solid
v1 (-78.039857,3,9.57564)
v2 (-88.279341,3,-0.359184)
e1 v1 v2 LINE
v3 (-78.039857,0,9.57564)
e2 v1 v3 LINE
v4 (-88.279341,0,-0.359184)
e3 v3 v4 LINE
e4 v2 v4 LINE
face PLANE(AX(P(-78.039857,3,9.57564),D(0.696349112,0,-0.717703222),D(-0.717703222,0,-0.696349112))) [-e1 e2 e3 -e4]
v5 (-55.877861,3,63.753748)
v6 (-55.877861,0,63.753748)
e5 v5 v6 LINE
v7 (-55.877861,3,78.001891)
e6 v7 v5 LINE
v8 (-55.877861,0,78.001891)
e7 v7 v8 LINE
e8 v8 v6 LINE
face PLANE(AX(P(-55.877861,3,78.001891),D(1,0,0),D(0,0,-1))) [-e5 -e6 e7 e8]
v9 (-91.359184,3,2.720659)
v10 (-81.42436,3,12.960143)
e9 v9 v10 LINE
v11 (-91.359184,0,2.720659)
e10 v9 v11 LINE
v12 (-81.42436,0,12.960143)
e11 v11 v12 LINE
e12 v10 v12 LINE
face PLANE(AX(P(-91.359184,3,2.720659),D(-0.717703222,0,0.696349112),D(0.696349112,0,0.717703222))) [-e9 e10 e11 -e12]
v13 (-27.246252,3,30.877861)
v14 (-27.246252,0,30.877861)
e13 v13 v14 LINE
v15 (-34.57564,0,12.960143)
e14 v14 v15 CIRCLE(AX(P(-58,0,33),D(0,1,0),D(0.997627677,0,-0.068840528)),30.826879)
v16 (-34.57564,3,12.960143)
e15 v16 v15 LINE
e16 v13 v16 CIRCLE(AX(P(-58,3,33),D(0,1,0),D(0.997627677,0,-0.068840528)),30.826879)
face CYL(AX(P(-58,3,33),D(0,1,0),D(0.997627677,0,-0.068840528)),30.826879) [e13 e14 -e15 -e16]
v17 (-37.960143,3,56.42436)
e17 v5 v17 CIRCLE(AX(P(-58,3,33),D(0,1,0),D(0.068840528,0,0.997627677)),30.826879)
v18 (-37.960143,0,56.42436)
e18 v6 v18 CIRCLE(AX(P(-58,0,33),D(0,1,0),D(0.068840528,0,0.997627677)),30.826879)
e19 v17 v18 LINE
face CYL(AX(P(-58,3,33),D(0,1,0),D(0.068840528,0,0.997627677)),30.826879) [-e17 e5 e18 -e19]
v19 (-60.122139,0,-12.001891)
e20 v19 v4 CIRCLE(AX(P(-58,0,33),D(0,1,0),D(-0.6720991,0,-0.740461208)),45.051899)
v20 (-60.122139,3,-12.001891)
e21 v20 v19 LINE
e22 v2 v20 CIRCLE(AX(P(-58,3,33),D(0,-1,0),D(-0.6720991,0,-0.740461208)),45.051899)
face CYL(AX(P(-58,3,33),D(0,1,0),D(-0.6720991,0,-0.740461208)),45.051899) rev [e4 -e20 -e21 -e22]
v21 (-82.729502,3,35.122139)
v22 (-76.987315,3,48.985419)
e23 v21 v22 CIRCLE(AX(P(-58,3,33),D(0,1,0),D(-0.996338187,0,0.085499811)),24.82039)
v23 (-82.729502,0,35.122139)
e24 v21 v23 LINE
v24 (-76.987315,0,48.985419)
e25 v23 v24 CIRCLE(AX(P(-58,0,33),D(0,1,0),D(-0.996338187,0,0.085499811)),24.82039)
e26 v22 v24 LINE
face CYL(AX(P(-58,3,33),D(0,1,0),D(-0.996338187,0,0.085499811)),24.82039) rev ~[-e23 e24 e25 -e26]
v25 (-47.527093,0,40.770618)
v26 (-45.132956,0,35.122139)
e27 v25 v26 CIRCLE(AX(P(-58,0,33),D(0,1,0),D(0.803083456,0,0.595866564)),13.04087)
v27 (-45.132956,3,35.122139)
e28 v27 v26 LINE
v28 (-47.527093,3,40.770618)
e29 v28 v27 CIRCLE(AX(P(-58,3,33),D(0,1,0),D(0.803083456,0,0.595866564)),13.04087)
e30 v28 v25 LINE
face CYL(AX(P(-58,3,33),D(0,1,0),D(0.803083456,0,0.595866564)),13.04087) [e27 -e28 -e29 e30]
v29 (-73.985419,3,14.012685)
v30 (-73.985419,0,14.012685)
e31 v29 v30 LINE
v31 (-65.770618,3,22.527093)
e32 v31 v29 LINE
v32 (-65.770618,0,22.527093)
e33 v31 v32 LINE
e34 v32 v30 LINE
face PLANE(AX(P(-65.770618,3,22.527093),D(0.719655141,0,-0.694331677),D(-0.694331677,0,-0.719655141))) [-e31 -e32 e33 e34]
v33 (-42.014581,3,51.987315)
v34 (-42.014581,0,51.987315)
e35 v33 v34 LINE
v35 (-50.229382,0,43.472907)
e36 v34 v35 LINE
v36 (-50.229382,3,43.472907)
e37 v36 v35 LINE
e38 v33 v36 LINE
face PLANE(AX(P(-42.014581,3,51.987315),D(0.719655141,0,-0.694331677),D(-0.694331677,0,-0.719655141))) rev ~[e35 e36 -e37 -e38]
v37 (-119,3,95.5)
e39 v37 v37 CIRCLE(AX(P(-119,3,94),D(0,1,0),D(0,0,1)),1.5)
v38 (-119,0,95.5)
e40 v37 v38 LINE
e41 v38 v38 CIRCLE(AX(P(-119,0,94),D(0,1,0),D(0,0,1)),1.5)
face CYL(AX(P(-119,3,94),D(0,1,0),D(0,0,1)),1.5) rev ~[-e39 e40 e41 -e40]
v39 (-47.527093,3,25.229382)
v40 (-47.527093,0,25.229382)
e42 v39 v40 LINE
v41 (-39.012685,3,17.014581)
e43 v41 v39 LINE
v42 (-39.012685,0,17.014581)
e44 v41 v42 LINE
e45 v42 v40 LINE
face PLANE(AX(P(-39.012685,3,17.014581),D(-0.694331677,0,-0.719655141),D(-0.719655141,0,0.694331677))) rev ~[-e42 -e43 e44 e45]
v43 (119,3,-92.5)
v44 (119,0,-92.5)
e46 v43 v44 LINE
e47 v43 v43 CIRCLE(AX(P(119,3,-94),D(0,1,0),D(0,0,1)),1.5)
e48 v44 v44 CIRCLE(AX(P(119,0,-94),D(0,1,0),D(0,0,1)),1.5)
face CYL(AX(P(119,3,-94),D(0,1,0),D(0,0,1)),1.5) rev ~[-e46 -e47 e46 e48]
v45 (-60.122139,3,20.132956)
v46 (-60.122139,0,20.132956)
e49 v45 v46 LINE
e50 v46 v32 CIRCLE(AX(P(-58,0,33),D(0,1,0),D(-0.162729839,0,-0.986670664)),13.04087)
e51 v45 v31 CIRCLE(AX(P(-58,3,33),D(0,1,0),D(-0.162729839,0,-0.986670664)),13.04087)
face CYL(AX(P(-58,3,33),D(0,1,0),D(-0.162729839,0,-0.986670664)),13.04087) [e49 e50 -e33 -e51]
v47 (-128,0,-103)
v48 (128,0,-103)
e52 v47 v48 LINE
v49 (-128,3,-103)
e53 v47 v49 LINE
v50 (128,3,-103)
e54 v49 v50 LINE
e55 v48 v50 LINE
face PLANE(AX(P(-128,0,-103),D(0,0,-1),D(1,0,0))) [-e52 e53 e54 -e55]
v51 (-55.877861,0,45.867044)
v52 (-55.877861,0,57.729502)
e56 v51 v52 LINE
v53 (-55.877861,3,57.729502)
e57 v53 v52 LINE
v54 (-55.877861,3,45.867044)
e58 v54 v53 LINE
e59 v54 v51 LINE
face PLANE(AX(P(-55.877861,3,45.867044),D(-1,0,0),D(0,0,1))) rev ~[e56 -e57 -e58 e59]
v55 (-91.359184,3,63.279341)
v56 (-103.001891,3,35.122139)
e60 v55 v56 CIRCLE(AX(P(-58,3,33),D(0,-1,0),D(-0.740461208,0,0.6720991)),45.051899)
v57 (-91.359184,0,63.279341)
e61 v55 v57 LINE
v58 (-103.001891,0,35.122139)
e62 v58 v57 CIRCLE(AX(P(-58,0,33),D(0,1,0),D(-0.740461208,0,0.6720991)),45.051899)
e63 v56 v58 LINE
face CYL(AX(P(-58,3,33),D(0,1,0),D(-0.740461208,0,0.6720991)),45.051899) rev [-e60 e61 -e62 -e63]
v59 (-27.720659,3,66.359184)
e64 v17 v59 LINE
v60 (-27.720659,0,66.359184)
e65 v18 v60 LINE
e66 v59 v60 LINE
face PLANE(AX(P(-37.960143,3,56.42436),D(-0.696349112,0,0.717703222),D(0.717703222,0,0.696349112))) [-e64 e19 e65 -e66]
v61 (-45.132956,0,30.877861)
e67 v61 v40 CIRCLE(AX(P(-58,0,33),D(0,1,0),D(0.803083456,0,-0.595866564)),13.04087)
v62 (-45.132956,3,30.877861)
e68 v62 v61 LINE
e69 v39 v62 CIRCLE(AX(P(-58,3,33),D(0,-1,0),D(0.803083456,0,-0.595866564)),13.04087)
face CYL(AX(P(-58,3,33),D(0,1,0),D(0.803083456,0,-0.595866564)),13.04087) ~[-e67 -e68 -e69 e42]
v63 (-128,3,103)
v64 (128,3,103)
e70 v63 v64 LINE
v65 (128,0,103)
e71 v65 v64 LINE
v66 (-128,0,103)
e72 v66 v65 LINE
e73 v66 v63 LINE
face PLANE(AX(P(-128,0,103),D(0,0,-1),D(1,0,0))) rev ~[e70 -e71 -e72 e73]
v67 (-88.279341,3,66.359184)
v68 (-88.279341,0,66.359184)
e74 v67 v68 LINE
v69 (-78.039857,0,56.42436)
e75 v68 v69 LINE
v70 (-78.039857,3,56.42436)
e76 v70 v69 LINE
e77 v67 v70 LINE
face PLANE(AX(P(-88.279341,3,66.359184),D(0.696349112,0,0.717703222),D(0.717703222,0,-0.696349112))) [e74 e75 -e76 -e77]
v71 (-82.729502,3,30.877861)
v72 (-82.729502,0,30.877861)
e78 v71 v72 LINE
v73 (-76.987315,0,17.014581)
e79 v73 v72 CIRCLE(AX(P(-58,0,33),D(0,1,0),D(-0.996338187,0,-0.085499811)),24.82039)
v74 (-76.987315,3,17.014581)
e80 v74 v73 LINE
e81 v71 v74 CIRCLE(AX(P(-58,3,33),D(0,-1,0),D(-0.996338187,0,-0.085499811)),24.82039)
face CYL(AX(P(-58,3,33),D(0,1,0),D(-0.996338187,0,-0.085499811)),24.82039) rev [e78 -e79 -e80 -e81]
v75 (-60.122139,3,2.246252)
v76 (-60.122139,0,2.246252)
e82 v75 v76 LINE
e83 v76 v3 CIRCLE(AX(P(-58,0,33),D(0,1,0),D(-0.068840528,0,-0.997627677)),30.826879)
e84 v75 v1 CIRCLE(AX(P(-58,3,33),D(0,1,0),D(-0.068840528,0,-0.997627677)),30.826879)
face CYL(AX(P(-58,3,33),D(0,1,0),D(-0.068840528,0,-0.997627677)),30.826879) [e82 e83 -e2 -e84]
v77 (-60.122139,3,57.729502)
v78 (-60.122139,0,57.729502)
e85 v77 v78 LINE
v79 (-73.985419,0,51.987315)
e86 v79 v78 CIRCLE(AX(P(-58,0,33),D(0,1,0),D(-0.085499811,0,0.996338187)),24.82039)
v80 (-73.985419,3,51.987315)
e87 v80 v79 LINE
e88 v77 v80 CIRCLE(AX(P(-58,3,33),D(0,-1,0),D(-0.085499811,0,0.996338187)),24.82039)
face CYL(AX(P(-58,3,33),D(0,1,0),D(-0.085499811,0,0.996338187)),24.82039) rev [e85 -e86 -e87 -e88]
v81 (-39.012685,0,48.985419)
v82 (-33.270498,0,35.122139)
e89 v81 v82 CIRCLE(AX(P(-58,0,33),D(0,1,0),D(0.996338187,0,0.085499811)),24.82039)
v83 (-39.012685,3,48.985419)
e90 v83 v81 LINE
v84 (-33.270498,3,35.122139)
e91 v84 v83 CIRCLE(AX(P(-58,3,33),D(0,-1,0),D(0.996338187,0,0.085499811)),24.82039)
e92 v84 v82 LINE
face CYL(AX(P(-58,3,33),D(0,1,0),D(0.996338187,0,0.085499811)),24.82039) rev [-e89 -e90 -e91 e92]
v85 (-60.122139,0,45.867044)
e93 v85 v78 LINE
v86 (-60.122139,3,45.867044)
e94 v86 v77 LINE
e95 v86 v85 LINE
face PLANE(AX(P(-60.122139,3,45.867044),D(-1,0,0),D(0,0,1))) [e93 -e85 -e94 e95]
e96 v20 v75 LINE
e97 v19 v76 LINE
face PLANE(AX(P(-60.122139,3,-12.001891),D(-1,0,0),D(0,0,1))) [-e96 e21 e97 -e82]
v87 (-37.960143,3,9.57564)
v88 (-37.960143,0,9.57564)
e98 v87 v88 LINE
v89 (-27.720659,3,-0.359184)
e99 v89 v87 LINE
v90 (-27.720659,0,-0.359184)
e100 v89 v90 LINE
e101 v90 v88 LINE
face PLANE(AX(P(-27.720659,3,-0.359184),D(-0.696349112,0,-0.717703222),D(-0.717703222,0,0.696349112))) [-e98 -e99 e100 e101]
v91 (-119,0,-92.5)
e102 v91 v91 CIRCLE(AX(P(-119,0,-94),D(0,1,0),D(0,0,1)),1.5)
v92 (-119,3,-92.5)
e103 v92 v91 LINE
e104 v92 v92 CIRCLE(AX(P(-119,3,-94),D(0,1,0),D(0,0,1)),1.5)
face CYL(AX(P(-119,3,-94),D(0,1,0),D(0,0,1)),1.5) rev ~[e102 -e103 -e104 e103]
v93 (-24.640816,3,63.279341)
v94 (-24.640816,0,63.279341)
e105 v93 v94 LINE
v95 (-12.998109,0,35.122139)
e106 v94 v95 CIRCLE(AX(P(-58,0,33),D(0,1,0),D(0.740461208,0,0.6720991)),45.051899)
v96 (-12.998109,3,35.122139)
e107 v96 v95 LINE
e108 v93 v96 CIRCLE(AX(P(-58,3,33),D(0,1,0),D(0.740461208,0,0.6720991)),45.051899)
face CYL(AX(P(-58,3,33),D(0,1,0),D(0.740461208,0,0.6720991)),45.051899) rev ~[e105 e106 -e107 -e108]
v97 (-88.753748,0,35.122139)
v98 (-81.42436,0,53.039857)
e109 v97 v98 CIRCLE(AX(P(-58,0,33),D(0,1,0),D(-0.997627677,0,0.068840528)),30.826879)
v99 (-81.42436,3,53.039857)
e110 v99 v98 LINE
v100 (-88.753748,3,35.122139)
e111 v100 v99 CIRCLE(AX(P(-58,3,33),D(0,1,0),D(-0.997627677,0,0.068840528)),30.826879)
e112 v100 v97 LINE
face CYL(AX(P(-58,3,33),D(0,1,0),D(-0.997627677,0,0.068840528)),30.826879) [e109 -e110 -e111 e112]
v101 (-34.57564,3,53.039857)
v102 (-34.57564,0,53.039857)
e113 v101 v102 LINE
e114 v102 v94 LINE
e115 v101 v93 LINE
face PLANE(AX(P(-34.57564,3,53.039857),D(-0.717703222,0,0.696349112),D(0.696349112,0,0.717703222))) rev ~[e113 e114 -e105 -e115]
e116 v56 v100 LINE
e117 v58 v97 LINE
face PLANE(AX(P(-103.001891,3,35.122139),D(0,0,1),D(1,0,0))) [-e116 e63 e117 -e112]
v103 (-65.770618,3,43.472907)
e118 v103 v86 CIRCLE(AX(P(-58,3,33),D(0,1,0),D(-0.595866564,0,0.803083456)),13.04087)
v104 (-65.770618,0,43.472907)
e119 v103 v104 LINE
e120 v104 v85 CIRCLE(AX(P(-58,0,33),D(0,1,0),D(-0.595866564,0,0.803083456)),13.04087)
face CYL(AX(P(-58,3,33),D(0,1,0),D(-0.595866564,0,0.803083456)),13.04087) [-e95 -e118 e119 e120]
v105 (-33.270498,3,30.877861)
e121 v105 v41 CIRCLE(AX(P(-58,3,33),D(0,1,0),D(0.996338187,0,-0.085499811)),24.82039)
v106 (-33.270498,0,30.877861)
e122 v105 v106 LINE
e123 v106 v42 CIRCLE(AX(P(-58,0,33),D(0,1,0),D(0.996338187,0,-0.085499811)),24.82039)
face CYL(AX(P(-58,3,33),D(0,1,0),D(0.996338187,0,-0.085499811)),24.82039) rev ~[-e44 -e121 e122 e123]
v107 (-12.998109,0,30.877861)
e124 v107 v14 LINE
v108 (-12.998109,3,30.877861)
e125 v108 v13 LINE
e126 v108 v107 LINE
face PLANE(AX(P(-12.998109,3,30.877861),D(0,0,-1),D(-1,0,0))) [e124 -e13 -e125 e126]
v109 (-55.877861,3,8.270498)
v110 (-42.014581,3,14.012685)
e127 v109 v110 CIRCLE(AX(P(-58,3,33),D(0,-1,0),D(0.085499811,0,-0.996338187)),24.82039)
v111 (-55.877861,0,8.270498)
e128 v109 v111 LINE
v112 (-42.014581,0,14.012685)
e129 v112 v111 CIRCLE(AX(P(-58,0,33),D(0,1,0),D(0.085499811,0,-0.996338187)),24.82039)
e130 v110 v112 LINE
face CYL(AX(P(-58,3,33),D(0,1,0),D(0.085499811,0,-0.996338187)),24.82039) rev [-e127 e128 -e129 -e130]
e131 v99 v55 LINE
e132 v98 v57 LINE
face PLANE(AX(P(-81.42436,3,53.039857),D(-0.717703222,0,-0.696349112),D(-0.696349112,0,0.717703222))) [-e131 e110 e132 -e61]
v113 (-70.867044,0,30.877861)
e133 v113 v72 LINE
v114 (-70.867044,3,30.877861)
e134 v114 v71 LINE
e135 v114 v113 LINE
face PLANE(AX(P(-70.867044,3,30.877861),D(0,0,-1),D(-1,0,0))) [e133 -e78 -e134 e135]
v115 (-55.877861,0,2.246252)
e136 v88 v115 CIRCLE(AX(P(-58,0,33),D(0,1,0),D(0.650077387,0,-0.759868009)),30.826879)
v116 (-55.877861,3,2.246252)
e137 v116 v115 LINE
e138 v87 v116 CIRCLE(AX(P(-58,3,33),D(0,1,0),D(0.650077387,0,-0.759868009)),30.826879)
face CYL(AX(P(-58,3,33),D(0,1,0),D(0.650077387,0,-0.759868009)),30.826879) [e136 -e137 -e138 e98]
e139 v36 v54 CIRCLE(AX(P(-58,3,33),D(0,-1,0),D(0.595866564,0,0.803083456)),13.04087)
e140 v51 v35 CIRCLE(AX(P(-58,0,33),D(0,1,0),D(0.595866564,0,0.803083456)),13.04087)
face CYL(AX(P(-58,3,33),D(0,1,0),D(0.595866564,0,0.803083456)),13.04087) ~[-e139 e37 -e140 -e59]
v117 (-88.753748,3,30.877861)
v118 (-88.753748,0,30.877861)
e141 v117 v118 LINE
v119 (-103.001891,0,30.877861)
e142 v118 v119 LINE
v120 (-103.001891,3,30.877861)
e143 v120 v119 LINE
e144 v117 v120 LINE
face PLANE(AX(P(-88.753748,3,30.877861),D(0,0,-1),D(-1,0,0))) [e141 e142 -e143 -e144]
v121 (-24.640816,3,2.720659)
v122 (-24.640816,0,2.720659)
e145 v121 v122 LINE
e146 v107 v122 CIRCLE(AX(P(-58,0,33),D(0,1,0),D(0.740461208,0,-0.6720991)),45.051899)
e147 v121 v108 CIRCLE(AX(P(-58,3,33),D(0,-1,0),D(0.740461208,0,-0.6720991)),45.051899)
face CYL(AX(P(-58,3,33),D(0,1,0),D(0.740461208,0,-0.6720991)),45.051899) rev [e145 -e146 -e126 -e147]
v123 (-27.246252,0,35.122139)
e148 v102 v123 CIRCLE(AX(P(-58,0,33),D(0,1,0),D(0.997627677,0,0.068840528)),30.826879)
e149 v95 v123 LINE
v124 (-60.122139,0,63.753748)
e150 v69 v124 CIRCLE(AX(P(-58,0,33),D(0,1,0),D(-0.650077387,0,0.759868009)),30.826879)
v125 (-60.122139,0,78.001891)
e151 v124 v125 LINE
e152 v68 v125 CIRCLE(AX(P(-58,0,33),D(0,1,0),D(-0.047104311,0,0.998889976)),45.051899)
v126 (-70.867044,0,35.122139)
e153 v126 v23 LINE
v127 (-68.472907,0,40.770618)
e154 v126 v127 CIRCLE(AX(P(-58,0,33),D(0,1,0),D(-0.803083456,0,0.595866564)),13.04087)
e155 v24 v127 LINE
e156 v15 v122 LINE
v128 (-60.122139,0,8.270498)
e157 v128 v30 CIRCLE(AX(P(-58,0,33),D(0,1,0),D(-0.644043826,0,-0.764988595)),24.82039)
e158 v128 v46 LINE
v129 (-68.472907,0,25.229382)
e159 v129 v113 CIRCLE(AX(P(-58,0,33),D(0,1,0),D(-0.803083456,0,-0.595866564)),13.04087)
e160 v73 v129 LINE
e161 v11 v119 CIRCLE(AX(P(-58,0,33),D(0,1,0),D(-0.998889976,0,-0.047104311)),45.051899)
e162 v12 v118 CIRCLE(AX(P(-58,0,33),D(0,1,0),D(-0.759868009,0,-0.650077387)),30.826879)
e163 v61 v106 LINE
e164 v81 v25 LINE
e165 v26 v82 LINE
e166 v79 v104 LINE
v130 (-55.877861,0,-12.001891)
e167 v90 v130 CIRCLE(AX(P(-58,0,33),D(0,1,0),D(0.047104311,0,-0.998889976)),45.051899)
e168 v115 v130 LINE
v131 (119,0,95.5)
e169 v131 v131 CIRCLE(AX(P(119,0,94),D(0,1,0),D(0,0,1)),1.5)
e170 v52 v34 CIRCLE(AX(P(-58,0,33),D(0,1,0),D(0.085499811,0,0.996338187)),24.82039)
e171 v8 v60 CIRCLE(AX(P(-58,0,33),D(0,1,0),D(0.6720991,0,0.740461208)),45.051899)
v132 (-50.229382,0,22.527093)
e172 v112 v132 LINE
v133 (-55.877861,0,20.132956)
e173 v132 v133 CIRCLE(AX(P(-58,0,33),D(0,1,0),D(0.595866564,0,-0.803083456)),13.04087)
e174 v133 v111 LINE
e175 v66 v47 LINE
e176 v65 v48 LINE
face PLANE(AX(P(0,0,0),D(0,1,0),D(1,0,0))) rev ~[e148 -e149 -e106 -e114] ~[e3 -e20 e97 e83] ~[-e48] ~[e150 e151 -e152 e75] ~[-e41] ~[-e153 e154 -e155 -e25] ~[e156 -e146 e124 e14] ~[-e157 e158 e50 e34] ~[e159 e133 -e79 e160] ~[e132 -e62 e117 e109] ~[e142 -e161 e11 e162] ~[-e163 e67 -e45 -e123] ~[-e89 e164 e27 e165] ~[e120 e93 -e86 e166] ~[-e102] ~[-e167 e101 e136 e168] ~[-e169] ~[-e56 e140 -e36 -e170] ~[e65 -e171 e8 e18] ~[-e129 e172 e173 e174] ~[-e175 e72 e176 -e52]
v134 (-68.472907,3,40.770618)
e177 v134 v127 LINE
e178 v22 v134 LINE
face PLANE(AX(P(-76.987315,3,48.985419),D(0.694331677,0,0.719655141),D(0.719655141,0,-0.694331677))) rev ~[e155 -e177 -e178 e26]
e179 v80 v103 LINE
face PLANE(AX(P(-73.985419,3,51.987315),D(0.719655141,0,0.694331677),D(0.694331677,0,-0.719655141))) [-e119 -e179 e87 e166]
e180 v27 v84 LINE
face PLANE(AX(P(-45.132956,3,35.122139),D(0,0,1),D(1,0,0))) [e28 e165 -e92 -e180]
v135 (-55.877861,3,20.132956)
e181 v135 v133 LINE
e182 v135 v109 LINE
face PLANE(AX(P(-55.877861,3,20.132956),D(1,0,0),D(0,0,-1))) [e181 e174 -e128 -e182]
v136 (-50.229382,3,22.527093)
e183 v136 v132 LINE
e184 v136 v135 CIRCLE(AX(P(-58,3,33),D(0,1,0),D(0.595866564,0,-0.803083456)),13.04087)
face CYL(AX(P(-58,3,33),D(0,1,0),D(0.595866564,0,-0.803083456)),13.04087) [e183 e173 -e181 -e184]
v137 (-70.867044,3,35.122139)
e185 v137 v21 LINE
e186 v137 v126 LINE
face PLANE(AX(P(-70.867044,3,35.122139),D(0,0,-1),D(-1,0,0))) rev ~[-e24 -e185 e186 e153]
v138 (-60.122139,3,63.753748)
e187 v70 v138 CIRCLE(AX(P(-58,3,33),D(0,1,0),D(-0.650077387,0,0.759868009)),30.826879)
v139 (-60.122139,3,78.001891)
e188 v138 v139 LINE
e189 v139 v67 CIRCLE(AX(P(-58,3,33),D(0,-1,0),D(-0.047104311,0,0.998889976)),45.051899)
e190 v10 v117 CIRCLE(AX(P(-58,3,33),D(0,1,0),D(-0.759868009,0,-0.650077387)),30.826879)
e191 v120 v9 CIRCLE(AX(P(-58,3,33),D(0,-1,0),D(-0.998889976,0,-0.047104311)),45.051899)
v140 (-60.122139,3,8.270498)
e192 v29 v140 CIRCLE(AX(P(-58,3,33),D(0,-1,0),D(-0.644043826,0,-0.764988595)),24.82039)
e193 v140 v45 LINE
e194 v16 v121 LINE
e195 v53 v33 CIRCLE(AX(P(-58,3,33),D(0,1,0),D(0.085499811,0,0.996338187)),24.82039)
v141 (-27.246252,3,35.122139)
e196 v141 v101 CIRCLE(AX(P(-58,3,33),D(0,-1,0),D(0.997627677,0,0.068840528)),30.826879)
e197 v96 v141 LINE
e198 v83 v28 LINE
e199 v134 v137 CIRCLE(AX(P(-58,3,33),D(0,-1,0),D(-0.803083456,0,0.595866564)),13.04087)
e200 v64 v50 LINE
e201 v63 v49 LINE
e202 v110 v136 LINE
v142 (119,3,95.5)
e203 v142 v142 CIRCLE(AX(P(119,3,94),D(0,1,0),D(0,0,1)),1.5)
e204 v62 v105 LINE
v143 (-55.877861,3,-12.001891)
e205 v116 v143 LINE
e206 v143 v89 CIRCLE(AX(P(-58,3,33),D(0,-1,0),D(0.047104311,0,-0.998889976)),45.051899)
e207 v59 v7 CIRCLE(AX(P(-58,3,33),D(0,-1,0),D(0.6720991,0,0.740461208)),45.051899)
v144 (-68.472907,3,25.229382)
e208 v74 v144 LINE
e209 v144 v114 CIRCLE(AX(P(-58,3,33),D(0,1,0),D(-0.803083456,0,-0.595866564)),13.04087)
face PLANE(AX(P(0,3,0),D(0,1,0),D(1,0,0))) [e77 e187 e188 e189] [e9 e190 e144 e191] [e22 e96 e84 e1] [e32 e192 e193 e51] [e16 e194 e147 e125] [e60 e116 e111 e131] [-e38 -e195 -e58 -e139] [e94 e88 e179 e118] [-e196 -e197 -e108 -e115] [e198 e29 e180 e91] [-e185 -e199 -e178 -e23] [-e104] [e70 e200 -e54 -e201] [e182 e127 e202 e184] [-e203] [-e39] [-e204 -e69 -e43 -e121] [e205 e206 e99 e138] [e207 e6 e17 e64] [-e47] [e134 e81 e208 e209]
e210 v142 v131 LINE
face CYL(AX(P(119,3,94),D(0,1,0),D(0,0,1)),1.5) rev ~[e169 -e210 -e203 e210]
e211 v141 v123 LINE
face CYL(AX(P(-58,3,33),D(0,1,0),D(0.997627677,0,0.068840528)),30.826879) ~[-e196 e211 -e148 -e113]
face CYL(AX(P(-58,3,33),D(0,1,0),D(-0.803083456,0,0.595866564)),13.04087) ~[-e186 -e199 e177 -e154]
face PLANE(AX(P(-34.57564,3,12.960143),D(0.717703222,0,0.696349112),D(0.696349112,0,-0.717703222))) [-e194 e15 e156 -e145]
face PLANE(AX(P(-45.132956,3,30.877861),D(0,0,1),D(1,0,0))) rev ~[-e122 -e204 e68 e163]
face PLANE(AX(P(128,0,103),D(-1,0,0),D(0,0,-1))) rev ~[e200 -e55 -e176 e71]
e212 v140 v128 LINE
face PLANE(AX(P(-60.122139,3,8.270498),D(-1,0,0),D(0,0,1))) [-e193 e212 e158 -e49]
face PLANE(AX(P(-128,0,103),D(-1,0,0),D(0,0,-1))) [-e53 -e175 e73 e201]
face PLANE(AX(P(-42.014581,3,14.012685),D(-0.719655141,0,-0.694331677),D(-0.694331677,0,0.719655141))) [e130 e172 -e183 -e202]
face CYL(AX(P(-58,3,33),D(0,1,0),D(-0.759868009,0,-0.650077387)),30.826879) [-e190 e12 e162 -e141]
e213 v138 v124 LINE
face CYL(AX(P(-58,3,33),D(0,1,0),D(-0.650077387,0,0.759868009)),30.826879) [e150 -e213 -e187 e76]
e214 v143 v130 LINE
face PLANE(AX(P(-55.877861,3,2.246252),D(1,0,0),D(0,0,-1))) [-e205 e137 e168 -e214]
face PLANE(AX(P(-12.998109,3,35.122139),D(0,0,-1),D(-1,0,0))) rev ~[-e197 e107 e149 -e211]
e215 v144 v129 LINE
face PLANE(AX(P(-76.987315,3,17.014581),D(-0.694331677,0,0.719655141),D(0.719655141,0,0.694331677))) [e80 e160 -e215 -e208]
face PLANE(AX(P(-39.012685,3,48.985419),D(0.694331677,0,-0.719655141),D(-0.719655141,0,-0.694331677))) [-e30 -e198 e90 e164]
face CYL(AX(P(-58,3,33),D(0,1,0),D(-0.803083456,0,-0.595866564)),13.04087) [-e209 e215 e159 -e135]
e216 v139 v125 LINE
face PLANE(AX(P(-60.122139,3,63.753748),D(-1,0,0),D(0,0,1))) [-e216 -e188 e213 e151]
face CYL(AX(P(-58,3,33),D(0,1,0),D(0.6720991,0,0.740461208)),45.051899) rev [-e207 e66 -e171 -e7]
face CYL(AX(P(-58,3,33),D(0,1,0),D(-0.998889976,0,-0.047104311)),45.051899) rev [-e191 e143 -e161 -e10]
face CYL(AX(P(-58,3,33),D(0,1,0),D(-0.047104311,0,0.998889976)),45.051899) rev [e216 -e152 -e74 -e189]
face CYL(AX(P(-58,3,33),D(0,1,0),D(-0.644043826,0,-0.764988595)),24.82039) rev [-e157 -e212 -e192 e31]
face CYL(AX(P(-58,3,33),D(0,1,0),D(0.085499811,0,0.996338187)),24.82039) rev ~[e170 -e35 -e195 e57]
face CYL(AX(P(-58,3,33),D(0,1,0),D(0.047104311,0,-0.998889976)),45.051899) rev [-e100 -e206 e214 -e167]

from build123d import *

# Parameters (mm, degrees)
SKETCH1_W           = 256
SKETCH1_H           = 206
BOSS_EXTRUDE1_DEPTH = 3
SKETCH2_R           = 1.5
CUT_EXTRUDE3_DEPTH  = 4
CUT_EXTRUDE6_DEPTH  = 4


with BuildPart() as part:
    # Sketch1 → Boss-Extrude1 (new body)
    with BuildSketch(Plane(origin=(0, 0, 0), x_dir=(1, 0, 0), z_dir=(0, 1, 0))):
        Rectangle(SKETCH1_W, SKETCH1_H)
    extrude(amount=BOSS_EXTRUDE1_DEPTH)

    # Sketch2 → Cut-Extrude3 (cut)
    with BuildSketch(Plane(origin=(0, 3, 0), x_dir=(1, 0, 0), z_dir=(0, 1, 0))):
        with Locations(Location((-119, 94, 0), (0, 0, 270))):
            Circle(SKETCH2_R)
        with Locations(Location((119, 94, 0), (0, 0, 270))):
            Circle(SKETCH2_R)
        with Locations(Location((119, -94, 0), (0, 0, 270))):
            Circle(SKETCH2_R)
        with Locations(Location((-119, -94, 0), (0, 0, 270))):
            Circle(SKETCH2_R)
    extrude(amount=-CUT_EXTRUDE3_DEPTH, mode=Mode.SUBTRACT)

    # Sketch5 → Cut-Extrude6 (cut)
    with BuildSketch(Plane(origin=(0, 3, 0), x_dir=(1, 0, 0), z_dir=(0, 1, 0))):
        with BuildLine():
            Line((-45.132956232, -35.122138654), (-33.270497542, -35.122138654))
            ThreePointArc((-33.270497542, -35.122138654), (-35.068849242, -42.49810977), (-39.012684657, -48.985418992))
            Line((-39.012684657, -48.985418992), (-47.527093129, -40.770618345))
            ThreePointArc((-47.527093129, -40.770618345), (-45.993141349, -38.089168216), (-45.132956232, -35.122138654))
        make_face()
        with BuildLine():
            Line((-34.575640496, -53.039857249), (-24.640816296, -63.279340889))
            ThreePointArc((-24.640816296, -63.279340889), (-16.366822155, -50.214880906), (-12.998109488, -35.122138654))
            Line((-12.998109488, -35.122138654), (-27.246251867, -35.122138654))
            ThreePointArc((-27.246251867, -35.122138654), (-29.467947906, -44.671268141), (-34.575640496, -53.039857249))
        make_face()
        with BuildLine():
            Line((-37.960142751, -56.424359504), (-27.720659111, -66.359183704))
            ThreePointArc((-27.720659111, -66.359183704), (-40.785119094, -74.633177845), (-55.877861346, -78.001890512))
            Line((-55.877861346, -78.001890512), (-55.877861346, -63.753748133))
            ThreePointArc((-55.877861346, -63.753748133), (-46.328731859, -61.532052094), (-37.960142751, -56.424359504))
        make_face()
        with BuildLine():
            Line((-55.877861346, -45.867043768), (-55.877861346, -57.729502458))
            ThreePointArc((-55.877861346, -57.729502458), (-48.50189023, -55.931150758), (-42.014581008, -51.987315343))
            Line((-42.014581008, -51.987315343), (-50.229381655, -43.472906871))
            ThreePointArc((-50.229381655, -43.472906871), (-52.910831784, -45.006858651), (-55.877861346, -45.867043768))
        make_face()
        with BuildLine():
            Line((-55.877861346, -2.246251867), (-55.877861346, 12.001890512))
            ThreePointArc((-55.877861346, 12.001890512), (-40.785119094, 8.633177845), (-27.720659111, 0.359183704))
            Line((-27.720659111, 0.359183704), (-37.960142751, -9.575640496))
            ThreePointArc((-37.960142751, -9.575640496), (-46.328731859, -4.467947906), (-55.877861346, -2.246251867))
        make_face()
        with BuildLine():
            Line((-55.877861346, -20.132956232), (-55.877861346, -8.270497542))
            ThreePointArc((-55.877861346, -8.270497542), (-48.50189023, -10.068849242), (-42.014581008, -14.012684657))
            Line((-42.014581008, -14.012684657), (-50.229381655, -22.527093129))
            ThreePointArc((-50.229381655, -22.527093129), (-52.910831784, -20.993141349), (-55.877861346, -20.132956232))
        make_face()
        with BuildLine():
            Line((-34.575640496, -12.960142751), (-24.640816296, -2.720659111))
            ThreePointArc((-24.640816296, -2.720659111), (-16.366822155, -15.785119094), (-12.998109488, -30.877861346))
            Line((-12.998109488, -30.877861346), (-27.246251867, -30.877861346))
            ThreePointArc((-27.246251867, -30.877861346), (-29.467947906, -21.328731859), (-34.575640496, -12.960142751))
        make_face()
        with BuildLine():
            Line((-45.132956232, -30.877861346), (-33.270497542, -30.877861346))
            ThreePointArc((-33.270497542, -30.877861346), (-35.068849242, -23.50189023), (-39.012684657, -17.014581008))
            Line((-39.012684657, -17.014581008), (-47.527093129, -25.229381655))
            ThreePointArc((-47.527093129, -25.229381655), (-45.993141349, -27.910831784), (-45.132956232, -30.877861346))
        make_face()
        with BuildLine():
            Line((-60.122138654, -45.867043768), (-60.122138654, -57.729502458))
            ThreePointArc((-60.122138654, -57.729502458), (-67.49810977, -55.931150758), (-73.985418992, -51.987315343))
            Line((-73.985418992, -51.987315343), (-65.770618345, -43.472906871))
            ThreePointArc((-65.770618345, -43.472906871), (-63.089168216, -45.006858651), (-60.122138654, -45.867043768))
        make_face()
        with BuildLine():
            Line((-60.122138654, -63.753748133), (-60.122138654, -78.001890512))
            ThreePointArc((-60.122138654, -78.001890512), (-75.214880906, -74.633177845), (-88.279340889, -66.359183704))
            Line((-88.279340889, -66.359183704), (-78.039857249, -56.424359504))
            ThreePointArc((-78.039857249, -56.424359504), (-69.671268141, -61.532052094), (-60.122138654, -63.753748133))
        make_face()
        with BuildLine():
            Line((-81.424359504, -53.039857249), (-91.359183704, -63.279340889))
            ThreePointArc((-91.359183704, -63.279340889), (-99.633177845, -50.214880906), (-103.001890512, -35.122138654))
            Line((-103.001890512, -35.122138654), (-88.753748133, -35.122138654))
            ThreePointArc((-88.753748133, -35.122138654), (-86.532052094, -44.671268141), (-81.424359504, -53.039857249))
        make_face()
        with BuildLine():
            Line((-70.867043768, -35.122138654), (-82.729502458, -35.122138654))
            ThreePointArc((-82.729502458, -35.122138654), (-80.931150758, -42.49810977), (-76.987315343, -48.985418992))
            Line((-76.987315343, -48.985418992), (-68.472906871, -40.770618345))
            ThreePointArc((-68.472906871, -40.770618345), (-70.006858651, -38.089168216), (-70.867043768, -35.122138654))
        make_face()
        with BuildLine():
            Line((-88.753748133, -30.877861346), (-103.001890512, -30.877861346))
            ThreePointArc((-103.001890512, -30.877861346), (-99.633177845, -15.785119094), (-91.359183704, -2.720659111))
            Line((-91.359183704, -2.720659111), (-81.424359504, -12.960142751))
            ThreePointArc((-81.424359504, -12.960142751), (-86.532052094, -21.328731859), (-88.753748133, -30.877861346))
        make_face()
        with BuildLine():
            Line((-70.867043768, -30.877861346), (-82.729502458, -30.877861346))
            ThreePointArc((-82.729502458, -30.877861346), (-80.931150758, -23.50189023), (-76.987315343, -17.014581008))
            Line((-76.987315343, -17.014581008), (-68.472906871, -25.229381655))
            ThreePointArc((-68.472906871, -25.229381655), (-70.006858651, -27.910831784), (-70.867043768, -30.877861346))
        make_face()
        with BuildLine():
            Line((-65.770618345, -22.527093129), (-73.985418992, -14.012684657))
            ThreePointArc((-73.985418992, -14.012684657), (-67.49810977, -10.068849242), (-60.122138654, -8.270497542))
            Line((-60.122138654, -8.270497542), (-60.122138654, -20.132956232))
            ThreePointArc((-60.122138654, -20.132956232), (-63.089168216, -20.993141349), (-65.770618345, -22.527093129))
        make_face()
        with BuildLine():
            Line((-78.039857249, -9.575640496), (-88.279340889, 0.359183704))
            ThreePointArc((-88.279340889, 0.359183704), (-75.214880906, 8.633177845), (-60.122138654, 12.001890512))
            Line((-60.122138654, 12.001890512), (-60.122138654, -2.246251867))
            ThreePointArc((-60.122138654, -2.246251867), (-69.671268141, -4.467947906), (-78.039857249, -9.575640496))
        make_face()
    extrude(amount=-CUT_EXTRUDE6_DEPTH, mode=Mode.SUBTRACT)


solid = part.part
